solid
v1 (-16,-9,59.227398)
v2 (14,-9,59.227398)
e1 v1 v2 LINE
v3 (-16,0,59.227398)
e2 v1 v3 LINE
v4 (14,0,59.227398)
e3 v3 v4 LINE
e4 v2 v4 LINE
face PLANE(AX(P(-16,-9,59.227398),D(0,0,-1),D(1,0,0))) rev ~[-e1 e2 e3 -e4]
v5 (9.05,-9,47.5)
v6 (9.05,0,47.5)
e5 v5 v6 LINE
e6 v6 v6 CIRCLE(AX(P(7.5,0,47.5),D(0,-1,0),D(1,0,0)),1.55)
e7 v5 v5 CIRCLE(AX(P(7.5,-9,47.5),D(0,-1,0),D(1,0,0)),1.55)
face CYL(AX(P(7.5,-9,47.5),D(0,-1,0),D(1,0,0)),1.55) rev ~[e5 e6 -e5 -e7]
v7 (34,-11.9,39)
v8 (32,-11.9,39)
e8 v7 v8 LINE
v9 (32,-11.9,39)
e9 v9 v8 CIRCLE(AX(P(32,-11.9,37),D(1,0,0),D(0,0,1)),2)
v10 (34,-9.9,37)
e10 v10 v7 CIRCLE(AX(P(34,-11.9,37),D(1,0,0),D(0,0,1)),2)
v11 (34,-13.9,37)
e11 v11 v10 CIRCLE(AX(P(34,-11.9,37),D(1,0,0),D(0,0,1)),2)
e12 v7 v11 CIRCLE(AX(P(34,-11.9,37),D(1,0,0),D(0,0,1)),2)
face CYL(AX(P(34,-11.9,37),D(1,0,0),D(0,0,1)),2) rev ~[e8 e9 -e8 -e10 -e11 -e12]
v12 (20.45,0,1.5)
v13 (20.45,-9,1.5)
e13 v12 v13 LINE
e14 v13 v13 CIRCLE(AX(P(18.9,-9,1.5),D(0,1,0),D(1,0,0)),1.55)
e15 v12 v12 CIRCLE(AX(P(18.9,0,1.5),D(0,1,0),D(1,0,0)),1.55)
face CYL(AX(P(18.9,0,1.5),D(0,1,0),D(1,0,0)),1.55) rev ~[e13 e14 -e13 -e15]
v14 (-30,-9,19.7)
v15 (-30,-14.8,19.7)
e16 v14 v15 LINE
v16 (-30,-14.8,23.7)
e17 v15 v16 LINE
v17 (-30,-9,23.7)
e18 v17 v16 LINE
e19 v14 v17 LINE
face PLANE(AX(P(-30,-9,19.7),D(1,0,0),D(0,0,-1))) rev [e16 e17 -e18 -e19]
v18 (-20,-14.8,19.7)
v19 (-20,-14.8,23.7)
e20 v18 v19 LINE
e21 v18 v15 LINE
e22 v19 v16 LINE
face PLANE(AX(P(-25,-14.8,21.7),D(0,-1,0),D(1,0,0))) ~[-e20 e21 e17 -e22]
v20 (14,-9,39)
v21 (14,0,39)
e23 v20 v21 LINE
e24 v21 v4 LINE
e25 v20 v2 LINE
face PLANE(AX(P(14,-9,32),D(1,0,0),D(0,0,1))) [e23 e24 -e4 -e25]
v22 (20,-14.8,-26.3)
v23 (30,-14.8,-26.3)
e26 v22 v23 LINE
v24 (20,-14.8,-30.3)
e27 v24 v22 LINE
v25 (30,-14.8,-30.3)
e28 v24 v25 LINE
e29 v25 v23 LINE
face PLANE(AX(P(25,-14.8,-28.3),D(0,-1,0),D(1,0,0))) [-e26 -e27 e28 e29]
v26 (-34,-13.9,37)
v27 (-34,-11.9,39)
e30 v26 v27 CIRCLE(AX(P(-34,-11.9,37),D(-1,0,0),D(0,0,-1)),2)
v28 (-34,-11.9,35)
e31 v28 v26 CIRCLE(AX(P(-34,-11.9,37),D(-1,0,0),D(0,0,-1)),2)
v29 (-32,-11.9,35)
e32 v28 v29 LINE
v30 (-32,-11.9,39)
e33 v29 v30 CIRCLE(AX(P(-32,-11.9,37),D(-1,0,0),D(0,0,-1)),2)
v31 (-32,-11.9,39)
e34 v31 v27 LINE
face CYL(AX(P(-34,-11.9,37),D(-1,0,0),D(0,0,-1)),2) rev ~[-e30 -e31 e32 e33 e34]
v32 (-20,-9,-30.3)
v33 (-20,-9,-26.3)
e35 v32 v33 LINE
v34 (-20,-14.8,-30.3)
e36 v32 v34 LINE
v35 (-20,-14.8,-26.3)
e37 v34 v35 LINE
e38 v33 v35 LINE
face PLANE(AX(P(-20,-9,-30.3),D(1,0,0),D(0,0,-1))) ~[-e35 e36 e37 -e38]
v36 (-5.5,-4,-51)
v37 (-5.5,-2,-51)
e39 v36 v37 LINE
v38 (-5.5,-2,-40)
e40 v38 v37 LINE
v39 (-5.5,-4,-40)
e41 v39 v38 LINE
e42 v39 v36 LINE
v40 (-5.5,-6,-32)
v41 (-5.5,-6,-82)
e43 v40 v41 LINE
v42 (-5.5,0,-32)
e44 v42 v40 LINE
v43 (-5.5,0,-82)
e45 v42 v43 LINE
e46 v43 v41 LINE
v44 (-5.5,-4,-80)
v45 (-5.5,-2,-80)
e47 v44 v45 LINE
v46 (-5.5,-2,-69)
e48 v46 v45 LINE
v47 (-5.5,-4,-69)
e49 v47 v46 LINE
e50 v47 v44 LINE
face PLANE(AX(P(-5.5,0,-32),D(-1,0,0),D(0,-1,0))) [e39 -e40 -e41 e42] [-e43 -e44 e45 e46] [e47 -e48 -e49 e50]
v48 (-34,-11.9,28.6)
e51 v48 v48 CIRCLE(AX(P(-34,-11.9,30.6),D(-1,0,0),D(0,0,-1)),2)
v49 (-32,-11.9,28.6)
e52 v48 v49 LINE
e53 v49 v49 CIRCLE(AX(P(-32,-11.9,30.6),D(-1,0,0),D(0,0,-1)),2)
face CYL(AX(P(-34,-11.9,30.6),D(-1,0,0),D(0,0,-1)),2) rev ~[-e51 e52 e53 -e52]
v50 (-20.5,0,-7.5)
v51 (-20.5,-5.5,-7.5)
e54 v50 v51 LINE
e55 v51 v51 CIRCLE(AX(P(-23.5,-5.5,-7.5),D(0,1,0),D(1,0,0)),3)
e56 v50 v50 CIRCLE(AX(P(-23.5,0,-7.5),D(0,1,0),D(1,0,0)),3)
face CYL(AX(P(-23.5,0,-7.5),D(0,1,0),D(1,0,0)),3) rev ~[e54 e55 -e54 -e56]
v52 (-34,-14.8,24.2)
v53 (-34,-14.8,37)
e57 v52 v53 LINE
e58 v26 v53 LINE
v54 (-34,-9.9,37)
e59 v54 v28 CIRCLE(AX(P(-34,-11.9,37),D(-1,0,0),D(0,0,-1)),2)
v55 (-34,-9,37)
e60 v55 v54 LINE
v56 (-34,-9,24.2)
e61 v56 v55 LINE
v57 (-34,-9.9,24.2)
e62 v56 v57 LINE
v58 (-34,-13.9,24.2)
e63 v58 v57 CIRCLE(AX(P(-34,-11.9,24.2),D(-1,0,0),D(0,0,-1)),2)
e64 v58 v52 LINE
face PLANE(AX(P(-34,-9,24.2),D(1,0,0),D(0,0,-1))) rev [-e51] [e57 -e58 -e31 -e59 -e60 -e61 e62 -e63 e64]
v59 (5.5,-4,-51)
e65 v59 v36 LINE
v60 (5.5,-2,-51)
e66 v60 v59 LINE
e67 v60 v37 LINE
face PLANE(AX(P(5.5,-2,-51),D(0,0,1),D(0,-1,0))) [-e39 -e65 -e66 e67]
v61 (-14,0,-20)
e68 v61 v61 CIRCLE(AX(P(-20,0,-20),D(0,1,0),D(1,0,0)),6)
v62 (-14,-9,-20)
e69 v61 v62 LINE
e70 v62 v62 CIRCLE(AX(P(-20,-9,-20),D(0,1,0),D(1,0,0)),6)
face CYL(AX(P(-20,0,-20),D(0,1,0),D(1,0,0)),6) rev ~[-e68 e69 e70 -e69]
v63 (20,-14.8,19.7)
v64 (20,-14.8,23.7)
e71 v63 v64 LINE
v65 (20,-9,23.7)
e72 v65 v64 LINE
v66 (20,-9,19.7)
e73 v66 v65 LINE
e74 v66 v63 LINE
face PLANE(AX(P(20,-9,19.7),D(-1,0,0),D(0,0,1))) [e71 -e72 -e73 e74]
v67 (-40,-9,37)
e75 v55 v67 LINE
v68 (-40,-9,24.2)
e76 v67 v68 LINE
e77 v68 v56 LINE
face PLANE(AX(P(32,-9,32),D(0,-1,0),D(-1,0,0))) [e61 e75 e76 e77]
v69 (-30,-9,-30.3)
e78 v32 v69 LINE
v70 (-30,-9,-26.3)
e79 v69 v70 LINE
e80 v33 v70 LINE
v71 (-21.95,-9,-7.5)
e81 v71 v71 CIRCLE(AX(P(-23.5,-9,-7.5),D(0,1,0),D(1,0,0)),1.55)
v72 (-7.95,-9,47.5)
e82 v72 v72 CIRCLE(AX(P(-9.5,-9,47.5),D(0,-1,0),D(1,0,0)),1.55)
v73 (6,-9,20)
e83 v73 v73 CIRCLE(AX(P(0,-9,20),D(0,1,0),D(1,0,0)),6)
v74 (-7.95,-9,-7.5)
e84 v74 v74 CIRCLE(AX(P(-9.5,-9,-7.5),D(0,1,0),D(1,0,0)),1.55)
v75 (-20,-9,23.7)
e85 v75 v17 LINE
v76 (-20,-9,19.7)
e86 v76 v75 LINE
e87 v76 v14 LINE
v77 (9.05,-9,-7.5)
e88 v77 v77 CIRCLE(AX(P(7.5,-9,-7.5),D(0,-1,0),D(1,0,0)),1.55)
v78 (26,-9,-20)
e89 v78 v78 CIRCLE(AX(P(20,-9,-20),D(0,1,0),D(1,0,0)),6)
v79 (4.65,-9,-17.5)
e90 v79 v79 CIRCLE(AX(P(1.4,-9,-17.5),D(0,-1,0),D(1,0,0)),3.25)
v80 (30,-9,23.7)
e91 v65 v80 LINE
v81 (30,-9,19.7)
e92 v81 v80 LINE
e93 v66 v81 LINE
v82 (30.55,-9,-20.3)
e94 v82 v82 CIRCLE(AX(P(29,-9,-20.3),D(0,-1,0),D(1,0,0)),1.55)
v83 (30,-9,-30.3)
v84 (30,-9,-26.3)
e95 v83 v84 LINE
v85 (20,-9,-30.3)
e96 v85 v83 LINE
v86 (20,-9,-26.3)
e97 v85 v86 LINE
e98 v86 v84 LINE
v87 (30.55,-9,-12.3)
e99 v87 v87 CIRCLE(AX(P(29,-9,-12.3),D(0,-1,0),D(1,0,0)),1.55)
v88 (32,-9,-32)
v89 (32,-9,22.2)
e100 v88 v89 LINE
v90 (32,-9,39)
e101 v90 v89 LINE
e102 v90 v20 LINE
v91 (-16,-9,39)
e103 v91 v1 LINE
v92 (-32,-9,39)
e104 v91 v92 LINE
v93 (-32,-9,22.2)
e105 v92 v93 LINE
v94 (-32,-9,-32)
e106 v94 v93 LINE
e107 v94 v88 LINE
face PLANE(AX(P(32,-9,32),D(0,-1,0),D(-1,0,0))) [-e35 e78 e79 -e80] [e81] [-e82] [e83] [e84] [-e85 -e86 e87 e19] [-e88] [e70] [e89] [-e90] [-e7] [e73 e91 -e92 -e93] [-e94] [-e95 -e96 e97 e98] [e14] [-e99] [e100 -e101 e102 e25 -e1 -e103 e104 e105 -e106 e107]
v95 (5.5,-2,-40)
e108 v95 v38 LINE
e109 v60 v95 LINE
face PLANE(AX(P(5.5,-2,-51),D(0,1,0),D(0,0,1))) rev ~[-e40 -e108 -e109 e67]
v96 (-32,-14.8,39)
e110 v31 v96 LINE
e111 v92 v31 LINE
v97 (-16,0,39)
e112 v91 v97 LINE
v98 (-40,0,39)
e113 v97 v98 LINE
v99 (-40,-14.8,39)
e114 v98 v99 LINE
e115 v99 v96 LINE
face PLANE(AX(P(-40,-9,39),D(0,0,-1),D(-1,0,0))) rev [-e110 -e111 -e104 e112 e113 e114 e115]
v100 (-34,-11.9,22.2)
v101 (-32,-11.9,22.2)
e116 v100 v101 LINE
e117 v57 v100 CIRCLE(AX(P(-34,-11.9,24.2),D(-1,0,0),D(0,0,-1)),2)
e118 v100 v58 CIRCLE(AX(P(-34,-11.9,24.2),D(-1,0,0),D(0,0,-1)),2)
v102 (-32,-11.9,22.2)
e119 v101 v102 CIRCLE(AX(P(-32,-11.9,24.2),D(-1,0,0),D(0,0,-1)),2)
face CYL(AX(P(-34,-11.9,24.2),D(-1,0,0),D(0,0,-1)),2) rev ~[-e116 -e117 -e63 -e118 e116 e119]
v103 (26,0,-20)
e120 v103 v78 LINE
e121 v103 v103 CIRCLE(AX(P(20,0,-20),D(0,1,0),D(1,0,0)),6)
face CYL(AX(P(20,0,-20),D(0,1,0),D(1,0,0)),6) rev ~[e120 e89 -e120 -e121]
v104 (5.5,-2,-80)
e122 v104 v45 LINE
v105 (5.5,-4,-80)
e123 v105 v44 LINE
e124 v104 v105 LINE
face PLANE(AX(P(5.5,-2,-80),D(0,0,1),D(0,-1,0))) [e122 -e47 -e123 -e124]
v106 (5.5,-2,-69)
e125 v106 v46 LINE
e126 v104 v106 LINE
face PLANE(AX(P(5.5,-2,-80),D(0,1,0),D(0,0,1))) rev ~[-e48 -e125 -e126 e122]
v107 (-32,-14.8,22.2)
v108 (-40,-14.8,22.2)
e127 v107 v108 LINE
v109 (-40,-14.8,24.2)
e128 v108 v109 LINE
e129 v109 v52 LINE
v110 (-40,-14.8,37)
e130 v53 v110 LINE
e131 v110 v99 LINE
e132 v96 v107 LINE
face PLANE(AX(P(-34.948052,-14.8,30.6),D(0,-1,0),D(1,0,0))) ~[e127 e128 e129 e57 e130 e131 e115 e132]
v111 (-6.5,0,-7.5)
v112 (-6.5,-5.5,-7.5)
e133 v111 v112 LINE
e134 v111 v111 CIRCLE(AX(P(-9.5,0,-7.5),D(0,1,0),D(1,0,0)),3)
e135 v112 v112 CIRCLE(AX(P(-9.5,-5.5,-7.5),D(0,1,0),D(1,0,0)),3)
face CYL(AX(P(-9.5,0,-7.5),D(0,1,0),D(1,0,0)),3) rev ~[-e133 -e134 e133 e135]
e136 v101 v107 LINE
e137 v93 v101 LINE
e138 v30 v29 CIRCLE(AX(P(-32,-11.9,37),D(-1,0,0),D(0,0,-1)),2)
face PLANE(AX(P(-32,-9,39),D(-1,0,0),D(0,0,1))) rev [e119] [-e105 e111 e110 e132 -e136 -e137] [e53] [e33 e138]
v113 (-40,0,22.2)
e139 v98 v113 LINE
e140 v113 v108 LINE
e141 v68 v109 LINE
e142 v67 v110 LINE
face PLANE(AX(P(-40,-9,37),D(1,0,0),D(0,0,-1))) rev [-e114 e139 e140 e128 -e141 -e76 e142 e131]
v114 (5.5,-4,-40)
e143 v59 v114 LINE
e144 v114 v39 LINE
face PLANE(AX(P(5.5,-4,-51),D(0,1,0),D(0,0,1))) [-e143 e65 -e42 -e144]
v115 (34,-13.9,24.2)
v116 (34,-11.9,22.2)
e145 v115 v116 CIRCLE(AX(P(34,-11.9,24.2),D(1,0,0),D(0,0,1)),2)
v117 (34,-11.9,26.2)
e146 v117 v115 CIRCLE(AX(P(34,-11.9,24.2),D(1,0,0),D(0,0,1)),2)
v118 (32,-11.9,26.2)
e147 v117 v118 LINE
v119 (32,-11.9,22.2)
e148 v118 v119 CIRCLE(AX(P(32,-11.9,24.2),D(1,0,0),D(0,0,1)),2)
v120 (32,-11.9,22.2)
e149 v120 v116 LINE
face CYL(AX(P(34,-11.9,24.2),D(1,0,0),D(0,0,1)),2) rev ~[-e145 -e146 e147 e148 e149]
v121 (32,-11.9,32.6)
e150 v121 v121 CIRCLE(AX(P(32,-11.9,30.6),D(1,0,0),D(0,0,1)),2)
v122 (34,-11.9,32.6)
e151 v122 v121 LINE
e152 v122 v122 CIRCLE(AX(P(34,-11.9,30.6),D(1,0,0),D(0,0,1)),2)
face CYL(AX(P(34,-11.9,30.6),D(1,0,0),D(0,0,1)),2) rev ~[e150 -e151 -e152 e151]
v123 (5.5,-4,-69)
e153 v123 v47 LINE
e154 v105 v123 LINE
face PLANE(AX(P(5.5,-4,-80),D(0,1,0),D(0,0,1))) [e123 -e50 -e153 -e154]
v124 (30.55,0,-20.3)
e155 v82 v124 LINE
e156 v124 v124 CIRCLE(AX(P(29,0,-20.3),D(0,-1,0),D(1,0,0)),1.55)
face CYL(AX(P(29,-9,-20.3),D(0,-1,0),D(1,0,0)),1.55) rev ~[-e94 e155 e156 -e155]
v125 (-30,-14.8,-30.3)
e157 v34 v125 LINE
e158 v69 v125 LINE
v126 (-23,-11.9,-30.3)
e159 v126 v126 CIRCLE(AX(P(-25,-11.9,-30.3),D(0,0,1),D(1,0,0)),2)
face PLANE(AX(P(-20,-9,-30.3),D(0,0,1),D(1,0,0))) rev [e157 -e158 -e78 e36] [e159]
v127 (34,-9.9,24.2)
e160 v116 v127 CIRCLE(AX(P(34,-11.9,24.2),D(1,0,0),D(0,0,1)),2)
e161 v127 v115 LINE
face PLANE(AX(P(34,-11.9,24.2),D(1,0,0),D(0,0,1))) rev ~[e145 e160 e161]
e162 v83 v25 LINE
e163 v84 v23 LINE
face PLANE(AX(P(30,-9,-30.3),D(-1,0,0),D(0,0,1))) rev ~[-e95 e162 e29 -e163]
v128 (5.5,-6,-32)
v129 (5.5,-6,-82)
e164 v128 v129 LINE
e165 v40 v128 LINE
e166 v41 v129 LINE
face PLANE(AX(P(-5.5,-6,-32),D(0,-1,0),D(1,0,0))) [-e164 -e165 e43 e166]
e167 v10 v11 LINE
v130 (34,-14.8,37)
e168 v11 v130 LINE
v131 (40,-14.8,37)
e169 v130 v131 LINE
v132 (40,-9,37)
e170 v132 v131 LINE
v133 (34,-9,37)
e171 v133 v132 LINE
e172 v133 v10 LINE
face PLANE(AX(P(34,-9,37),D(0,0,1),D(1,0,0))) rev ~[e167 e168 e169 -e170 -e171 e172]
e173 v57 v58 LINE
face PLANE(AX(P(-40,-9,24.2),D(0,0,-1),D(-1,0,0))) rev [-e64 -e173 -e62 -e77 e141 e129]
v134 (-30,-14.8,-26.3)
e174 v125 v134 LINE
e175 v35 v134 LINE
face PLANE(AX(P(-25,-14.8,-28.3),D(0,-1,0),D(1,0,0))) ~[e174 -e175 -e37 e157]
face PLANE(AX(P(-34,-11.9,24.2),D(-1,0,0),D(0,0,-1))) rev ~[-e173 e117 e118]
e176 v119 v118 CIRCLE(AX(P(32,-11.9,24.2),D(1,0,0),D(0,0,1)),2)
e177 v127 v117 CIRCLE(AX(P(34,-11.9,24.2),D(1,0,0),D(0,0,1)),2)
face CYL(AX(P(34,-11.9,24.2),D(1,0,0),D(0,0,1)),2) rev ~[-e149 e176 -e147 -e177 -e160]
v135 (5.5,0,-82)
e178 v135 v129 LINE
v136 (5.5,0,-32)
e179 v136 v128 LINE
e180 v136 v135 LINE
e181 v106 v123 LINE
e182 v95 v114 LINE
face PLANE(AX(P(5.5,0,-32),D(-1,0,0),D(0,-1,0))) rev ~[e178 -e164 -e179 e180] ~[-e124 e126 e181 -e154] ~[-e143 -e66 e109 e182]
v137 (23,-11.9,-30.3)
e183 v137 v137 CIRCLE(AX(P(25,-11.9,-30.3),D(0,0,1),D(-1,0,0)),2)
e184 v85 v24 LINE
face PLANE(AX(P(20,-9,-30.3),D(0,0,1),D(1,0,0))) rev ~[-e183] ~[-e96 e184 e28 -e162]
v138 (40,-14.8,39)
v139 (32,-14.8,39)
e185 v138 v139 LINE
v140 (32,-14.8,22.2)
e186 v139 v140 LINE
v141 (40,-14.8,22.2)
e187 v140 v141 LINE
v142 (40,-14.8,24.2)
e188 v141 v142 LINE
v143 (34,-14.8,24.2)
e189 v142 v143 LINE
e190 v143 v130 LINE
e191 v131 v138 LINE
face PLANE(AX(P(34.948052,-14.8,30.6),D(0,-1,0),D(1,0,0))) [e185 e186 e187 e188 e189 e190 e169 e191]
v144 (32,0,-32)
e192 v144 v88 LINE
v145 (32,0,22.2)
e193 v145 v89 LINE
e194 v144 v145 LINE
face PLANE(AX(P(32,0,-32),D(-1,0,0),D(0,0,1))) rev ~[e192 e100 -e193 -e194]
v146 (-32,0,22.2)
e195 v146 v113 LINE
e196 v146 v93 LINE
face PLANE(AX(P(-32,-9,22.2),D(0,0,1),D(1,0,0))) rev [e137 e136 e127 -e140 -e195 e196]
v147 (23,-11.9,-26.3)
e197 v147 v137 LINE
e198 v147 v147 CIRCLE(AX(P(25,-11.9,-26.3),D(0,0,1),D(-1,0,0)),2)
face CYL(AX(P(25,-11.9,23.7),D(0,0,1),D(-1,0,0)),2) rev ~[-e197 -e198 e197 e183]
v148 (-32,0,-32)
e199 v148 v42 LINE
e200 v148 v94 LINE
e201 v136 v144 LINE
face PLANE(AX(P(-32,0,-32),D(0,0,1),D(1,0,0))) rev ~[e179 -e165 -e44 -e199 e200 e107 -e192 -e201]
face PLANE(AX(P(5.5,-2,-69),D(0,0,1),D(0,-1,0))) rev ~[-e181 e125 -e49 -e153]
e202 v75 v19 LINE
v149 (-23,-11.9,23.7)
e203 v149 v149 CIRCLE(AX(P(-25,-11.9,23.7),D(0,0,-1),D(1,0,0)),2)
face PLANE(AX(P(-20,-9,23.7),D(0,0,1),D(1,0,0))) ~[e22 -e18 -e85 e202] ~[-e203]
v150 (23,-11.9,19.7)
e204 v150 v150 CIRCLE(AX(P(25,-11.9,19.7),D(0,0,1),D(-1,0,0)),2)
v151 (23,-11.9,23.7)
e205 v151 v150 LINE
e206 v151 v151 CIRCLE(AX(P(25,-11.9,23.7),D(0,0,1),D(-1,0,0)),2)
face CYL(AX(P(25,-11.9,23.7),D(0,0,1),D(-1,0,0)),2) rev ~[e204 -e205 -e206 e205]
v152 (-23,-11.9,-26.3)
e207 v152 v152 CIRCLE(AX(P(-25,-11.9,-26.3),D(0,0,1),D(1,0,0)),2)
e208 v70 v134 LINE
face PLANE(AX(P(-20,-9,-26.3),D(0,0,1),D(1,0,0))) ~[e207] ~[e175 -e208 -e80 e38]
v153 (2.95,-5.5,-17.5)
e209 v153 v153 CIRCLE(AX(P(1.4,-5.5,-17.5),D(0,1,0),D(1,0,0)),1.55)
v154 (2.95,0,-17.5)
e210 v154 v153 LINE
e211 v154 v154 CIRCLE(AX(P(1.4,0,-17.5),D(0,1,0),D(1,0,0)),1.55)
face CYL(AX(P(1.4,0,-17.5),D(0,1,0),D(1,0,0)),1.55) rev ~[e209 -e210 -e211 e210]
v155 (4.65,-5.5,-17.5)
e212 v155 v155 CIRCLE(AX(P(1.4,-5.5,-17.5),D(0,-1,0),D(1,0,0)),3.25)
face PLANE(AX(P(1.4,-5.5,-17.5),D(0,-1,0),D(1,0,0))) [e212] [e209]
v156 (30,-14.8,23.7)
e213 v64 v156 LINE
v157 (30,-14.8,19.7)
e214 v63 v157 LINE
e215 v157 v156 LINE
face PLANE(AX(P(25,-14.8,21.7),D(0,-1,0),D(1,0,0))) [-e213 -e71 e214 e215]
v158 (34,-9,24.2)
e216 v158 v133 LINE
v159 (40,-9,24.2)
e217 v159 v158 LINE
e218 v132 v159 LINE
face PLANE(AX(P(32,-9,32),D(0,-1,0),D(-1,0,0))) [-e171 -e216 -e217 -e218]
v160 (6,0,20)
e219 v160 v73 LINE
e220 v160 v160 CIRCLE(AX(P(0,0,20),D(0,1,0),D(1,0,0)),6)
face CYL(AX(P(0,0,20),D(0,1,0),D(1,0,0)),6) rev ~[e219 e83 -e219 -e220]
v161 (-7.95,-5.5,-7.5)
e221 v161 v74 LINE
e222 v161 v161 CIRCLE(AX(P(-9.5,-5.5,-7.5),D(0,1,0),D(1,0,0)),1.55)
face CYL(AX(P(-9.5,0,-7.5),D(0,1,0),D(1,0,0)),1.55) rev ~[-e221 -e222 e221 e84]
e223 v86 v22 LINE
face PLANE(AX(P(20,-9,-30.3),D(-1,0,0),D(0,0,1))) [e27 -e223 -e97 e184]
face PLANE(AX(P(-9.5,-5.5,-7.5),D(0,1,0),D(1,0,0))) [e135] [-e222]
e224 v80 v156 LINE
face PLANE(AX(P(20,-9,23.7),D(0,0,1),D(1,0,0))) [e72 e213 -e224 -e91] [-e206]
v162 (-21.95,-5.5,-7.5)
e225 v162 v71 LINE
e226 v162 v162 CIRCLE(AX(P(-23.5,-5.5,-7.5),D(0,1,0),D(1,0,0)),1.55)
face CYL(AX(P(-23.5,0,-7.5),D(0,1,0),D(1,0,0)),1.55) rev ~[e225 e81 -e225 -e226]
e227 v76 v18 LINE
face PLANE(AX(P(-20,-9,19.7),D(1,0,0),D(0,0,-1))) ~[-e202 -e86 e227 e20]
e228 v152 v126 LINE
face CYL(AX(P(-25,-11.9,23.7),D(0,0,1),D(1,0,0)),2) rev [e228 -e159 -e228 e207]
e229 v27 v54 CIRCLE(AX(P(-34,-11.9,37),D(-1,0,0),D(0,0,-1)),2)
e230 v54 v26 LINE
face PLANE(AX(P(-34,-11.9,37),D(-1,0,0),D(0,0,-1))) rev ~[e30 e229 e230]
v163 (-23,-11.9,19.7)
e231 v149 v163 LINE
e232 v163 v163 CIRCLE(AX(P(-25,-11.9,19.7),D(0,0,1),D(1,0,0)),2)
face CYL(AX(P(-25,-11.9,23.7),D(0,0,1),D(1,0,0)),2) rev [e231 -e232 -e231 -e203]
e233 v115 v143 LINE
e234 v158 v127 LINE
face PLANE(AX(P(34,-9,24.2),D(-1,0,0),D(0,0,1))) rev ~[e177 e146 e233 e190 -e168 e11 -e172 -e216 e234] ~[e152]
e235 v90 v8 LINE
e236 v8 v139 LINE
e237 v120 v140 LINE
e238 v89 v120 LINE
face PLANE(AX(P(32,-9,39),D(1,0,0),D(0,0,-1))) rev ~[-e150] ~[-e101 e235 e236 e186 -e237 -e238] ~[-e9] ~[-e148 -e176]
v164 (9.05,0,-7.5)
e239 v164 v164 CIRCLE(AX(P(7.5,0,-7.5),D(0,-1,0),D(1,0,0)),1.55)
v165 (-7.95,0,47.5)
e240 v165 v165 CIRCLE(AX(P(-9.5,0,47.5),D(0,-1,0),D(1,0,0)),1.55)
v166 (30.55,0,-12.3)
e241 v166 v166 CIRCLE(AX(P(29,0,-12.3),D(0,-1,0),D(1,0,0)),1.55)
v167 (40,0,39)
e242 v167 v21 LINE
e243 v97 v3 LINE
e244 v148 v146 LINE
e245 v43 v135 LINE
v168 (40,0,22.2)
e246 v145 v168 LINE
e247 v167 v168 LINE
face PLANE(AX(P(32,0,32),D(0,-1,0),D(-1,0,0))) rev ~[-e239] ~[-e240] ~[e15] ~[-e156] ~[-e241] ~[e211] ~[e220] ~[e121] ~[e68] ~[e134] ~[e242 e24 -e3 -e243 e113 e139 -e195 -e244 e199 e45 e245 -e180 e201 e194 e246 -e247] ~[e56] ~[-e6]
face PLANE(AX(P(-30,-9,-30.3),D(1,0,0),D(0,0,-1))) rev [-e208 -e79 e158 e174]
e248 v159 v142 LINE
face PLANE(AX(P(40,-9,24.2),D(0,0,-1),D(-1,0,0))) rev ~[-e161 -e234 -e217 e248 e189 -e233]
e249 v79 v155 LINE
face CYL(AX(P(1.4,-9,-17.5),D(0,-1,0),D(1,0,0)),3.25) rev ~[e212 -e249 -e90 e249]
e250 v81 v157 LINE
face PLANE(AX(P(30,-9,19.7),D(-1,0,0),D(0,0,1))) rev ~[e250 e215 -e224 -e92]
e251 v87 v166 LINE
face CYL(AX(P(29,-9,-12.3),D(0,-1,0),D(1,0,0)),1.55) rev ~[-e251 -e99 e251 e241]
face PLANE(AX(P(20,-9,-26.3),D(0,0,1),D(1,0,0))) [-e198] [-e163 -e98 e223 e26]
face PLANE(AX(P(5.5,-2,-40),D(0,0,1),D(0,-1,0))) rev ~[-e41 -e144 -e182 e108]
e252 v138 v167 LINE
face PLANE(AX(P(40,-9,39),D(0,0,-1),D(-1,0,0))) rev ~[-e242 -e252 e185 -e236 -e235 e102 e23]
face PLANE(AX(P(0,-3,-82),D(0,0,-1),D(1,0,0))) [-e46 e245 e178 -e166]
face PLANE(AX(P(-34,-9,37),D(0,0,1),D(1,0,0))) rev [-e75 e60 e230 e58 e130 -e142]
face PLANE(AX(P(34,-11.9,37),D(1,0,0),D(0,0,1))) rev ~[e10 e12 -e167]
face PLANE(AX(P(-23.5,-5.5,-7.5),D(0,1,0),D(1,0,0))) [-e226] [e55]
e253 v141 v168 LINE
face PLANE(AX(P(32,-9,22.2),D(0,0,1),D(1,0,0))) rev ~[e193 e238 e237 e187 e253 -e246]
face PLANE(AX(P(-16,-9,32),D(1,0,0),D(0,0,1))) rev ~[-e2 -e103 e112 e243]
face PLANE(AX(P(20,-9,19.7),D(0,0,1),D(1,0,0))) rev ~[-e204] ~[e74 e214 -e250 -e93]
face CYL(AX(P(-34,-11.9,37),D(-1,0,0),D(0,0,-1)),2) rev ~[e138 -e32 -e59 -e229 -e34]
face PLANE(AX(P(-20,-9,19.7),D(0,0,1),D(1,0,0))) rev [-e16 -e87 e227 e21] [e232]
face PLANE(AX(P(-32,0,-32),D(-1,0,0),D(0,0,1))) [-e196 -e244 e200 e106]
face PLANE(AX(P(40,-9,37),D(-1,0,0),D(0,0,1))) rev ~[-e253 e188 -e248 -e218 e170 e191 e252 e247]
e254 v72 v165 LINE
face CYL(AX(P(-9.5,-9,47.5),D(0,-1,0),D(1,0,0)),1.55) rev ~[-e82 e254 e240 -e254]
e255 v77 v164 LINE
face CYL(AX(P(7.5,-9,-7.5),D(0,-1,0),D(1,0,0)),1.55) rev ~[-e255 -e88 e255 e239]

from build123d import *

# Parameters (mm, degrees)
SKETCH022_W            = 64
SKETCH022_H            = 64
PAD020_DEPTH           = 9
SKETCH023_R            = 1.55
POCKET003_DEPTH        = 9
SKETCH024_R            = 1.55
POCKET004_DEPTH        = 9
SKETCH025_R            = 3
POCKET005_DEPTH        = 5.5
SKETCH026_R            = 6
POCKET006_DEPTH        = 9
SKETCH030_R            = 1.55
POCKET009_DEPTH        = 9
SKETCH031_W            = 30
SKETCH031_H            = 27.227398
PAD022_DEPTH           = 9
SKETCH032_R            = 1.55
POCKET010_DEPTH        = 9
SKETCH066_W            = 16.8
SKETCH066_H            = 9
PAD040_DEPTH           = 8
PAD040_FACE8_W         = 9
PAD040_FACE8_H         = 16
PAD041_DEPTH           = 7
MIRRORED_FACE11_W      = 9
MIRRORED_FACE11_H      = 18
PAD042_DEPTH           = 7
PAD043_DEPTH           = 5.8
SKETCH068_R            = 2
POCKET027_DEPTH        = 5
LINEARPATTERN_COUNT    = 3
LINEARPATTERN_PITCH    = 6.4
SKETCH069_R            = 2
POCKET028_DEPTH        = 5
LINEARPATTERN001_COUNT = 3
LINEARPATTERN001_PITCH = 6.4
SKETCH071_W            = 10
SKETCH071_H            = 4
PAD044_DEPTH           = 5.8
SKETCH073_R            = 2
POCKET029_DEPTH        = 100
SKETCH074_W            = 11
SKETCH074_H            = 6
PAD045_DEPTH           = 50
SKETCH075_W            = 11
SKETCH075_H            = 2
POCKET030_DEPTH        = 12
SKETCH076_R            = 1.55
POCKET031_DEPTH        = 10
SKETCH083_R            = 3.25
POCKET035_DEPTH        = 3.5


with BuildPart() as part:
    # Sketch022 → Pad020 (new body)
    with BuildSketch(Plane.XZ):
        Rectangle(SKETCH022_W, SKETCH022_H)
    extrude(amount=PAD020_DEPTH)

    # Sketch023 (on Face5 of Pad020) → Pocket003 (cut)
    with BuildSketch(Plane(origin=(0, 0, 0), x_dir=(1, 0, 0), z_dir=(0, 1, 0))):
        with Locations((-9.5, 7.5)):
            Circle(SKETCH023_R)
        with Locations((-23.5, 7.5)):
            Circle(SKETCH023_R)
    extrude(amount=-POCKET003_DEPTH, mode=Mode.SUBTRACT)

    # Sketch024 (on Face4 of Pocket003) → Pocket004 (cut)
    with BuildSketch(Plane(origin=(0, 0, 0), x_dir=(1, 0, 0), z_dir=(0, 1, 0))):
        with Locations((1.4, 17.5)):
            Circle(SKETCH024_R)
        with Locations((18.9, -1.5)):
            Circle(SKETCH024_R)
    extrude(amount=-POCKET004_DEPTH, mode=Mode.SUBTRACT)

    # Sketch025 (on Face4 of Pocket004) → Pocket005 (cut)
    with BuildSketch(Plane(origin=(0, 0, 0), x_dir=(1, 0, 0), z_dir=(0, 1, 0))):
        with Locations((-23.5, 7.5)):
            Circle(SKETCH025_R)
        with Locations((-9.5, 7.5)):
            Circle(SKETCH025_R)
    extrude(amount=-POCKET005_DEPTH, mode=Mode.SUBTRACT)

    # Sketch026 (on Face4 of Pocket005) → Pocket006 (cut)
    with BuildSketch(Plane(origin=(0, 0, 0), x_dir=(1, 0, 0), z_dir=(0, 1, 0))):
        with Locations((0, -20)):
            Circle(SKETCH026_R)
        with Locations((20, 20)):
            Circle(SKETCH026_R)
        with Locations((-20, 20)):
            Circle(SKETCH026_R)
    extrude(amount=-POCKET006_DEPTH, mode=Mode.SUBTRACT)

    # Sketch030 (on Face5 of Pocket006) → Pocket009 (cut)
    with BuildSketch(Plane.XZ.offset(9)):
        with Locations((7.5, -7.5)):
            Circle(SKETCH030_R)
    extrude(amount=-POCKET009_DEPTH, mode=Mode.SUBTRACT)

    # Sketch031 (on Face5 of Pocket009) → Pad022 (join)
    with BuildSketch(Plane.XZ.offset(9)):
        with Locations((-1, 45.613699)):
            Rectangle(SKETCH031_W, SKETCH031_H)
    extrude(amount=-PAD022_DEPTH)

    # Sketch032 (on Face22 of Pad022) → Pocket010 (cut)
    with BuildSketch(Plane.XZ.offset(9)):
        with Locations((-9.5, 47.5)):
            Circle(SKETCH032_R)
        with Locations((7.5, 47.5)):
            Circle(SKETCH032_R)
    extrude(amount=-POCKET010_DEPTH, mode=Mode.SUBTRACT)

    # Sketch066 (on Face2 of Pocket010) → Pad040 (join)
    with BuildSketch(Plane(origin=(-32, 0, 0), x_dir=(0, 0, -1), z_dir=(-1, 0, 0))):
        with Locations((-30.6, 4.5)):
            Rectangle(SKETCH066_W, SKETCH066_H)
    pad040 = extrude(amount=PAD040_DEPTH)

    # Pad040 Face8 → Pad041 (add)
    with BuildSketch(Plane(origin=(-24, -4.5, 32), x_dir=(0, 1, 0), z_dir=(0, 0, 1))):
        Rectangle(PAD040_FACE8_W, PAD040_FACE8_H)
    extrude(amount=PAD041_DEPTH)

    # Mirrored: Pad040 across YZ
    add(pad040.mirror(Plane.YZ))

    # Mirrored Face11 → Pad042 (add)
    with BuildSketch(Plane(origin=(23, -4.5, 32), x_dir=(0, 1, 0), z_dir=(0, 0, 1))):
        Rectangle(MIRRORED_FACE11_W, MIRRORED_FACE11_H)
    extrude(amount=PAD042_DEPTH)

    # Sketch067 (on Face27 of Pad042) → Pad043 (join)
    with BuildSketch(Plane.XZ.offset(9)):
        Polygon((40, 39), (32, 39), (32, 22.2), (40, 22.2), (40, 24.2), (34, 24.2), (34, 37), (40, 37), align=None)
    pad043 = extrude(amount=PAD043_DEPTH)

    # Mirrored001: Pad043 across YZ
    add(pad043.mirror(Plane.YZ))

    # Sketch068 (on Face37 of Mirrored001) → Pocket027 (cut)
    with BuildSketch(Plane(origin=(-34, 0, 0), x_dir=(0, 0, -1), z_dir=(-1, 0, 0))):
        with Locations((-24.2, 11.9)):
            Circle(SKETCH068_R)
    pocket027 = extrude(amount=-POCKET027_DEPTH, mode=Mode.SUBTRACT)

    # LinearPattern: Pocket027 ×3
    with Locations(*[(0, 0, i * LINEARPATTERN_PITCH) for i in range(1, LINEARPATTERN_COUNT)]):
        add(pocket027, mode=Mode.SUBTRACT)

    # Sketch069 (on Face44 of LinearPattern) → Pocket028 (cut)
    with BuildSketch(Plane(origin=(34, 0, 0), x_dir=(0, 0, 1), z_dir=(1, 0, 0))):
        with Locations((37, 11.9)):
            Circle(SKETCH069_R)
    pocket028 = extrude(amount=-POCKET028_DEPTH, mode=Mode.SUBTRACT)

    # LinearPattern001: Pocket028 ×3
    with Locations(*[(0, 0, -i * LINEARPATTERN001_PITCH) for i in range(1, LINEARPATTERN001_COUNT)]):
        add(pocket028, mode=Mode.SUBTRACT)

    # Sketch071 (on Face35 of LinearPattern001) → Pad044 (join)
    with BuildSketch(Plane.XZ.offset(9)):
        with Locations((25, 21.7)):
            Rectangle(SKETCH071_W, SKETCH071_H)
        with Locations((25, -28.3)):
            Rectangle(SKETCH071_W, SKETCH071_H)
    pad044 = extrude(amount=PAD044_DEPTH)

    # Mirrored003: Pad044 across Sketch071 V_Axis
    add(pad044.mirror(Plane(origin=(0, -9, 0), x_dir=(0, -1, 0), z_dir=(1, 0, 0))))

    # Sketch073 (on Face49 of Mirrored003) → Pocket029 (cut)
    with BuildSketch(Plane(origin=(0, 0, 23.7), x_dir=(-1, 0, 0), z_dir=(0, 0, 1))):
        with Locations((-25, 11.9)):
            Circle(SKETCH073_R)
    pocket029 = extrude(amount=-POCKET029_DEPTH, mode=Mode.SUBTRACT)

    # Mirrored004: Pocket029 across YZ
    add(pocket029.mirror(Plane.YZ), mode=Mode.SUBTRACT)

    # Sketch074 (on Face15 of Mirrored004) → Pad045 (join)
    with BuildSketch(Plane(origin=(0, 0, -32), x_dir=(1, 0, 0), z_dir=(0, 0, -1))):
        with Locations((0, 3)):
            Rectangle(SKETCH074_W, SKETCH074_H)
    extrude(amount=PAD045_DEPTH)

    # Sketch075 (on Face41 of Pad045) → Pocket030 (cut)
    with BuildSketch(Plane(origin=(5.5, 0, 0), x_dir=(0, 0, 1), z_dir=(1, 0, 0))):
        with Locations((-74.5, 3)):
            Rectangle(SKETCH075_W, SKETCH075_H)
        with Locations((-45.5, 3)):
            Rectangle(SKETCH075_W, SKETCH075_H)
    extrude(amount=-POCKET030_DEPTH, mode=Mode.SUBTRACT)

    # Sketch076 (on Face30 of Pocket030) → Pocket031 (cut)
    with BuildSketch(Plane.XZ.offset(9)):
        with Locations((29, -12.3)):
            Circle(SKETCH076_R)
        with Locations((29, -20.3)):
            Circle(SKETCH076_R)
    extrude(amount=-POCKET031_DEPTH, mode=Mode.SUBTRACT)

    # Sketch083 (on Face32 of Pocket031) → Pocket035 (cut)
    with BuildSketch(Plane.XZ.offset(9)):
        with Locations((1.4, -17.5)):
            Circle(SKETCH083_R)
    extrude(amount=-POCKET035_DEPTH, mode=Mode.SUBTRACT)


solid = part.part
